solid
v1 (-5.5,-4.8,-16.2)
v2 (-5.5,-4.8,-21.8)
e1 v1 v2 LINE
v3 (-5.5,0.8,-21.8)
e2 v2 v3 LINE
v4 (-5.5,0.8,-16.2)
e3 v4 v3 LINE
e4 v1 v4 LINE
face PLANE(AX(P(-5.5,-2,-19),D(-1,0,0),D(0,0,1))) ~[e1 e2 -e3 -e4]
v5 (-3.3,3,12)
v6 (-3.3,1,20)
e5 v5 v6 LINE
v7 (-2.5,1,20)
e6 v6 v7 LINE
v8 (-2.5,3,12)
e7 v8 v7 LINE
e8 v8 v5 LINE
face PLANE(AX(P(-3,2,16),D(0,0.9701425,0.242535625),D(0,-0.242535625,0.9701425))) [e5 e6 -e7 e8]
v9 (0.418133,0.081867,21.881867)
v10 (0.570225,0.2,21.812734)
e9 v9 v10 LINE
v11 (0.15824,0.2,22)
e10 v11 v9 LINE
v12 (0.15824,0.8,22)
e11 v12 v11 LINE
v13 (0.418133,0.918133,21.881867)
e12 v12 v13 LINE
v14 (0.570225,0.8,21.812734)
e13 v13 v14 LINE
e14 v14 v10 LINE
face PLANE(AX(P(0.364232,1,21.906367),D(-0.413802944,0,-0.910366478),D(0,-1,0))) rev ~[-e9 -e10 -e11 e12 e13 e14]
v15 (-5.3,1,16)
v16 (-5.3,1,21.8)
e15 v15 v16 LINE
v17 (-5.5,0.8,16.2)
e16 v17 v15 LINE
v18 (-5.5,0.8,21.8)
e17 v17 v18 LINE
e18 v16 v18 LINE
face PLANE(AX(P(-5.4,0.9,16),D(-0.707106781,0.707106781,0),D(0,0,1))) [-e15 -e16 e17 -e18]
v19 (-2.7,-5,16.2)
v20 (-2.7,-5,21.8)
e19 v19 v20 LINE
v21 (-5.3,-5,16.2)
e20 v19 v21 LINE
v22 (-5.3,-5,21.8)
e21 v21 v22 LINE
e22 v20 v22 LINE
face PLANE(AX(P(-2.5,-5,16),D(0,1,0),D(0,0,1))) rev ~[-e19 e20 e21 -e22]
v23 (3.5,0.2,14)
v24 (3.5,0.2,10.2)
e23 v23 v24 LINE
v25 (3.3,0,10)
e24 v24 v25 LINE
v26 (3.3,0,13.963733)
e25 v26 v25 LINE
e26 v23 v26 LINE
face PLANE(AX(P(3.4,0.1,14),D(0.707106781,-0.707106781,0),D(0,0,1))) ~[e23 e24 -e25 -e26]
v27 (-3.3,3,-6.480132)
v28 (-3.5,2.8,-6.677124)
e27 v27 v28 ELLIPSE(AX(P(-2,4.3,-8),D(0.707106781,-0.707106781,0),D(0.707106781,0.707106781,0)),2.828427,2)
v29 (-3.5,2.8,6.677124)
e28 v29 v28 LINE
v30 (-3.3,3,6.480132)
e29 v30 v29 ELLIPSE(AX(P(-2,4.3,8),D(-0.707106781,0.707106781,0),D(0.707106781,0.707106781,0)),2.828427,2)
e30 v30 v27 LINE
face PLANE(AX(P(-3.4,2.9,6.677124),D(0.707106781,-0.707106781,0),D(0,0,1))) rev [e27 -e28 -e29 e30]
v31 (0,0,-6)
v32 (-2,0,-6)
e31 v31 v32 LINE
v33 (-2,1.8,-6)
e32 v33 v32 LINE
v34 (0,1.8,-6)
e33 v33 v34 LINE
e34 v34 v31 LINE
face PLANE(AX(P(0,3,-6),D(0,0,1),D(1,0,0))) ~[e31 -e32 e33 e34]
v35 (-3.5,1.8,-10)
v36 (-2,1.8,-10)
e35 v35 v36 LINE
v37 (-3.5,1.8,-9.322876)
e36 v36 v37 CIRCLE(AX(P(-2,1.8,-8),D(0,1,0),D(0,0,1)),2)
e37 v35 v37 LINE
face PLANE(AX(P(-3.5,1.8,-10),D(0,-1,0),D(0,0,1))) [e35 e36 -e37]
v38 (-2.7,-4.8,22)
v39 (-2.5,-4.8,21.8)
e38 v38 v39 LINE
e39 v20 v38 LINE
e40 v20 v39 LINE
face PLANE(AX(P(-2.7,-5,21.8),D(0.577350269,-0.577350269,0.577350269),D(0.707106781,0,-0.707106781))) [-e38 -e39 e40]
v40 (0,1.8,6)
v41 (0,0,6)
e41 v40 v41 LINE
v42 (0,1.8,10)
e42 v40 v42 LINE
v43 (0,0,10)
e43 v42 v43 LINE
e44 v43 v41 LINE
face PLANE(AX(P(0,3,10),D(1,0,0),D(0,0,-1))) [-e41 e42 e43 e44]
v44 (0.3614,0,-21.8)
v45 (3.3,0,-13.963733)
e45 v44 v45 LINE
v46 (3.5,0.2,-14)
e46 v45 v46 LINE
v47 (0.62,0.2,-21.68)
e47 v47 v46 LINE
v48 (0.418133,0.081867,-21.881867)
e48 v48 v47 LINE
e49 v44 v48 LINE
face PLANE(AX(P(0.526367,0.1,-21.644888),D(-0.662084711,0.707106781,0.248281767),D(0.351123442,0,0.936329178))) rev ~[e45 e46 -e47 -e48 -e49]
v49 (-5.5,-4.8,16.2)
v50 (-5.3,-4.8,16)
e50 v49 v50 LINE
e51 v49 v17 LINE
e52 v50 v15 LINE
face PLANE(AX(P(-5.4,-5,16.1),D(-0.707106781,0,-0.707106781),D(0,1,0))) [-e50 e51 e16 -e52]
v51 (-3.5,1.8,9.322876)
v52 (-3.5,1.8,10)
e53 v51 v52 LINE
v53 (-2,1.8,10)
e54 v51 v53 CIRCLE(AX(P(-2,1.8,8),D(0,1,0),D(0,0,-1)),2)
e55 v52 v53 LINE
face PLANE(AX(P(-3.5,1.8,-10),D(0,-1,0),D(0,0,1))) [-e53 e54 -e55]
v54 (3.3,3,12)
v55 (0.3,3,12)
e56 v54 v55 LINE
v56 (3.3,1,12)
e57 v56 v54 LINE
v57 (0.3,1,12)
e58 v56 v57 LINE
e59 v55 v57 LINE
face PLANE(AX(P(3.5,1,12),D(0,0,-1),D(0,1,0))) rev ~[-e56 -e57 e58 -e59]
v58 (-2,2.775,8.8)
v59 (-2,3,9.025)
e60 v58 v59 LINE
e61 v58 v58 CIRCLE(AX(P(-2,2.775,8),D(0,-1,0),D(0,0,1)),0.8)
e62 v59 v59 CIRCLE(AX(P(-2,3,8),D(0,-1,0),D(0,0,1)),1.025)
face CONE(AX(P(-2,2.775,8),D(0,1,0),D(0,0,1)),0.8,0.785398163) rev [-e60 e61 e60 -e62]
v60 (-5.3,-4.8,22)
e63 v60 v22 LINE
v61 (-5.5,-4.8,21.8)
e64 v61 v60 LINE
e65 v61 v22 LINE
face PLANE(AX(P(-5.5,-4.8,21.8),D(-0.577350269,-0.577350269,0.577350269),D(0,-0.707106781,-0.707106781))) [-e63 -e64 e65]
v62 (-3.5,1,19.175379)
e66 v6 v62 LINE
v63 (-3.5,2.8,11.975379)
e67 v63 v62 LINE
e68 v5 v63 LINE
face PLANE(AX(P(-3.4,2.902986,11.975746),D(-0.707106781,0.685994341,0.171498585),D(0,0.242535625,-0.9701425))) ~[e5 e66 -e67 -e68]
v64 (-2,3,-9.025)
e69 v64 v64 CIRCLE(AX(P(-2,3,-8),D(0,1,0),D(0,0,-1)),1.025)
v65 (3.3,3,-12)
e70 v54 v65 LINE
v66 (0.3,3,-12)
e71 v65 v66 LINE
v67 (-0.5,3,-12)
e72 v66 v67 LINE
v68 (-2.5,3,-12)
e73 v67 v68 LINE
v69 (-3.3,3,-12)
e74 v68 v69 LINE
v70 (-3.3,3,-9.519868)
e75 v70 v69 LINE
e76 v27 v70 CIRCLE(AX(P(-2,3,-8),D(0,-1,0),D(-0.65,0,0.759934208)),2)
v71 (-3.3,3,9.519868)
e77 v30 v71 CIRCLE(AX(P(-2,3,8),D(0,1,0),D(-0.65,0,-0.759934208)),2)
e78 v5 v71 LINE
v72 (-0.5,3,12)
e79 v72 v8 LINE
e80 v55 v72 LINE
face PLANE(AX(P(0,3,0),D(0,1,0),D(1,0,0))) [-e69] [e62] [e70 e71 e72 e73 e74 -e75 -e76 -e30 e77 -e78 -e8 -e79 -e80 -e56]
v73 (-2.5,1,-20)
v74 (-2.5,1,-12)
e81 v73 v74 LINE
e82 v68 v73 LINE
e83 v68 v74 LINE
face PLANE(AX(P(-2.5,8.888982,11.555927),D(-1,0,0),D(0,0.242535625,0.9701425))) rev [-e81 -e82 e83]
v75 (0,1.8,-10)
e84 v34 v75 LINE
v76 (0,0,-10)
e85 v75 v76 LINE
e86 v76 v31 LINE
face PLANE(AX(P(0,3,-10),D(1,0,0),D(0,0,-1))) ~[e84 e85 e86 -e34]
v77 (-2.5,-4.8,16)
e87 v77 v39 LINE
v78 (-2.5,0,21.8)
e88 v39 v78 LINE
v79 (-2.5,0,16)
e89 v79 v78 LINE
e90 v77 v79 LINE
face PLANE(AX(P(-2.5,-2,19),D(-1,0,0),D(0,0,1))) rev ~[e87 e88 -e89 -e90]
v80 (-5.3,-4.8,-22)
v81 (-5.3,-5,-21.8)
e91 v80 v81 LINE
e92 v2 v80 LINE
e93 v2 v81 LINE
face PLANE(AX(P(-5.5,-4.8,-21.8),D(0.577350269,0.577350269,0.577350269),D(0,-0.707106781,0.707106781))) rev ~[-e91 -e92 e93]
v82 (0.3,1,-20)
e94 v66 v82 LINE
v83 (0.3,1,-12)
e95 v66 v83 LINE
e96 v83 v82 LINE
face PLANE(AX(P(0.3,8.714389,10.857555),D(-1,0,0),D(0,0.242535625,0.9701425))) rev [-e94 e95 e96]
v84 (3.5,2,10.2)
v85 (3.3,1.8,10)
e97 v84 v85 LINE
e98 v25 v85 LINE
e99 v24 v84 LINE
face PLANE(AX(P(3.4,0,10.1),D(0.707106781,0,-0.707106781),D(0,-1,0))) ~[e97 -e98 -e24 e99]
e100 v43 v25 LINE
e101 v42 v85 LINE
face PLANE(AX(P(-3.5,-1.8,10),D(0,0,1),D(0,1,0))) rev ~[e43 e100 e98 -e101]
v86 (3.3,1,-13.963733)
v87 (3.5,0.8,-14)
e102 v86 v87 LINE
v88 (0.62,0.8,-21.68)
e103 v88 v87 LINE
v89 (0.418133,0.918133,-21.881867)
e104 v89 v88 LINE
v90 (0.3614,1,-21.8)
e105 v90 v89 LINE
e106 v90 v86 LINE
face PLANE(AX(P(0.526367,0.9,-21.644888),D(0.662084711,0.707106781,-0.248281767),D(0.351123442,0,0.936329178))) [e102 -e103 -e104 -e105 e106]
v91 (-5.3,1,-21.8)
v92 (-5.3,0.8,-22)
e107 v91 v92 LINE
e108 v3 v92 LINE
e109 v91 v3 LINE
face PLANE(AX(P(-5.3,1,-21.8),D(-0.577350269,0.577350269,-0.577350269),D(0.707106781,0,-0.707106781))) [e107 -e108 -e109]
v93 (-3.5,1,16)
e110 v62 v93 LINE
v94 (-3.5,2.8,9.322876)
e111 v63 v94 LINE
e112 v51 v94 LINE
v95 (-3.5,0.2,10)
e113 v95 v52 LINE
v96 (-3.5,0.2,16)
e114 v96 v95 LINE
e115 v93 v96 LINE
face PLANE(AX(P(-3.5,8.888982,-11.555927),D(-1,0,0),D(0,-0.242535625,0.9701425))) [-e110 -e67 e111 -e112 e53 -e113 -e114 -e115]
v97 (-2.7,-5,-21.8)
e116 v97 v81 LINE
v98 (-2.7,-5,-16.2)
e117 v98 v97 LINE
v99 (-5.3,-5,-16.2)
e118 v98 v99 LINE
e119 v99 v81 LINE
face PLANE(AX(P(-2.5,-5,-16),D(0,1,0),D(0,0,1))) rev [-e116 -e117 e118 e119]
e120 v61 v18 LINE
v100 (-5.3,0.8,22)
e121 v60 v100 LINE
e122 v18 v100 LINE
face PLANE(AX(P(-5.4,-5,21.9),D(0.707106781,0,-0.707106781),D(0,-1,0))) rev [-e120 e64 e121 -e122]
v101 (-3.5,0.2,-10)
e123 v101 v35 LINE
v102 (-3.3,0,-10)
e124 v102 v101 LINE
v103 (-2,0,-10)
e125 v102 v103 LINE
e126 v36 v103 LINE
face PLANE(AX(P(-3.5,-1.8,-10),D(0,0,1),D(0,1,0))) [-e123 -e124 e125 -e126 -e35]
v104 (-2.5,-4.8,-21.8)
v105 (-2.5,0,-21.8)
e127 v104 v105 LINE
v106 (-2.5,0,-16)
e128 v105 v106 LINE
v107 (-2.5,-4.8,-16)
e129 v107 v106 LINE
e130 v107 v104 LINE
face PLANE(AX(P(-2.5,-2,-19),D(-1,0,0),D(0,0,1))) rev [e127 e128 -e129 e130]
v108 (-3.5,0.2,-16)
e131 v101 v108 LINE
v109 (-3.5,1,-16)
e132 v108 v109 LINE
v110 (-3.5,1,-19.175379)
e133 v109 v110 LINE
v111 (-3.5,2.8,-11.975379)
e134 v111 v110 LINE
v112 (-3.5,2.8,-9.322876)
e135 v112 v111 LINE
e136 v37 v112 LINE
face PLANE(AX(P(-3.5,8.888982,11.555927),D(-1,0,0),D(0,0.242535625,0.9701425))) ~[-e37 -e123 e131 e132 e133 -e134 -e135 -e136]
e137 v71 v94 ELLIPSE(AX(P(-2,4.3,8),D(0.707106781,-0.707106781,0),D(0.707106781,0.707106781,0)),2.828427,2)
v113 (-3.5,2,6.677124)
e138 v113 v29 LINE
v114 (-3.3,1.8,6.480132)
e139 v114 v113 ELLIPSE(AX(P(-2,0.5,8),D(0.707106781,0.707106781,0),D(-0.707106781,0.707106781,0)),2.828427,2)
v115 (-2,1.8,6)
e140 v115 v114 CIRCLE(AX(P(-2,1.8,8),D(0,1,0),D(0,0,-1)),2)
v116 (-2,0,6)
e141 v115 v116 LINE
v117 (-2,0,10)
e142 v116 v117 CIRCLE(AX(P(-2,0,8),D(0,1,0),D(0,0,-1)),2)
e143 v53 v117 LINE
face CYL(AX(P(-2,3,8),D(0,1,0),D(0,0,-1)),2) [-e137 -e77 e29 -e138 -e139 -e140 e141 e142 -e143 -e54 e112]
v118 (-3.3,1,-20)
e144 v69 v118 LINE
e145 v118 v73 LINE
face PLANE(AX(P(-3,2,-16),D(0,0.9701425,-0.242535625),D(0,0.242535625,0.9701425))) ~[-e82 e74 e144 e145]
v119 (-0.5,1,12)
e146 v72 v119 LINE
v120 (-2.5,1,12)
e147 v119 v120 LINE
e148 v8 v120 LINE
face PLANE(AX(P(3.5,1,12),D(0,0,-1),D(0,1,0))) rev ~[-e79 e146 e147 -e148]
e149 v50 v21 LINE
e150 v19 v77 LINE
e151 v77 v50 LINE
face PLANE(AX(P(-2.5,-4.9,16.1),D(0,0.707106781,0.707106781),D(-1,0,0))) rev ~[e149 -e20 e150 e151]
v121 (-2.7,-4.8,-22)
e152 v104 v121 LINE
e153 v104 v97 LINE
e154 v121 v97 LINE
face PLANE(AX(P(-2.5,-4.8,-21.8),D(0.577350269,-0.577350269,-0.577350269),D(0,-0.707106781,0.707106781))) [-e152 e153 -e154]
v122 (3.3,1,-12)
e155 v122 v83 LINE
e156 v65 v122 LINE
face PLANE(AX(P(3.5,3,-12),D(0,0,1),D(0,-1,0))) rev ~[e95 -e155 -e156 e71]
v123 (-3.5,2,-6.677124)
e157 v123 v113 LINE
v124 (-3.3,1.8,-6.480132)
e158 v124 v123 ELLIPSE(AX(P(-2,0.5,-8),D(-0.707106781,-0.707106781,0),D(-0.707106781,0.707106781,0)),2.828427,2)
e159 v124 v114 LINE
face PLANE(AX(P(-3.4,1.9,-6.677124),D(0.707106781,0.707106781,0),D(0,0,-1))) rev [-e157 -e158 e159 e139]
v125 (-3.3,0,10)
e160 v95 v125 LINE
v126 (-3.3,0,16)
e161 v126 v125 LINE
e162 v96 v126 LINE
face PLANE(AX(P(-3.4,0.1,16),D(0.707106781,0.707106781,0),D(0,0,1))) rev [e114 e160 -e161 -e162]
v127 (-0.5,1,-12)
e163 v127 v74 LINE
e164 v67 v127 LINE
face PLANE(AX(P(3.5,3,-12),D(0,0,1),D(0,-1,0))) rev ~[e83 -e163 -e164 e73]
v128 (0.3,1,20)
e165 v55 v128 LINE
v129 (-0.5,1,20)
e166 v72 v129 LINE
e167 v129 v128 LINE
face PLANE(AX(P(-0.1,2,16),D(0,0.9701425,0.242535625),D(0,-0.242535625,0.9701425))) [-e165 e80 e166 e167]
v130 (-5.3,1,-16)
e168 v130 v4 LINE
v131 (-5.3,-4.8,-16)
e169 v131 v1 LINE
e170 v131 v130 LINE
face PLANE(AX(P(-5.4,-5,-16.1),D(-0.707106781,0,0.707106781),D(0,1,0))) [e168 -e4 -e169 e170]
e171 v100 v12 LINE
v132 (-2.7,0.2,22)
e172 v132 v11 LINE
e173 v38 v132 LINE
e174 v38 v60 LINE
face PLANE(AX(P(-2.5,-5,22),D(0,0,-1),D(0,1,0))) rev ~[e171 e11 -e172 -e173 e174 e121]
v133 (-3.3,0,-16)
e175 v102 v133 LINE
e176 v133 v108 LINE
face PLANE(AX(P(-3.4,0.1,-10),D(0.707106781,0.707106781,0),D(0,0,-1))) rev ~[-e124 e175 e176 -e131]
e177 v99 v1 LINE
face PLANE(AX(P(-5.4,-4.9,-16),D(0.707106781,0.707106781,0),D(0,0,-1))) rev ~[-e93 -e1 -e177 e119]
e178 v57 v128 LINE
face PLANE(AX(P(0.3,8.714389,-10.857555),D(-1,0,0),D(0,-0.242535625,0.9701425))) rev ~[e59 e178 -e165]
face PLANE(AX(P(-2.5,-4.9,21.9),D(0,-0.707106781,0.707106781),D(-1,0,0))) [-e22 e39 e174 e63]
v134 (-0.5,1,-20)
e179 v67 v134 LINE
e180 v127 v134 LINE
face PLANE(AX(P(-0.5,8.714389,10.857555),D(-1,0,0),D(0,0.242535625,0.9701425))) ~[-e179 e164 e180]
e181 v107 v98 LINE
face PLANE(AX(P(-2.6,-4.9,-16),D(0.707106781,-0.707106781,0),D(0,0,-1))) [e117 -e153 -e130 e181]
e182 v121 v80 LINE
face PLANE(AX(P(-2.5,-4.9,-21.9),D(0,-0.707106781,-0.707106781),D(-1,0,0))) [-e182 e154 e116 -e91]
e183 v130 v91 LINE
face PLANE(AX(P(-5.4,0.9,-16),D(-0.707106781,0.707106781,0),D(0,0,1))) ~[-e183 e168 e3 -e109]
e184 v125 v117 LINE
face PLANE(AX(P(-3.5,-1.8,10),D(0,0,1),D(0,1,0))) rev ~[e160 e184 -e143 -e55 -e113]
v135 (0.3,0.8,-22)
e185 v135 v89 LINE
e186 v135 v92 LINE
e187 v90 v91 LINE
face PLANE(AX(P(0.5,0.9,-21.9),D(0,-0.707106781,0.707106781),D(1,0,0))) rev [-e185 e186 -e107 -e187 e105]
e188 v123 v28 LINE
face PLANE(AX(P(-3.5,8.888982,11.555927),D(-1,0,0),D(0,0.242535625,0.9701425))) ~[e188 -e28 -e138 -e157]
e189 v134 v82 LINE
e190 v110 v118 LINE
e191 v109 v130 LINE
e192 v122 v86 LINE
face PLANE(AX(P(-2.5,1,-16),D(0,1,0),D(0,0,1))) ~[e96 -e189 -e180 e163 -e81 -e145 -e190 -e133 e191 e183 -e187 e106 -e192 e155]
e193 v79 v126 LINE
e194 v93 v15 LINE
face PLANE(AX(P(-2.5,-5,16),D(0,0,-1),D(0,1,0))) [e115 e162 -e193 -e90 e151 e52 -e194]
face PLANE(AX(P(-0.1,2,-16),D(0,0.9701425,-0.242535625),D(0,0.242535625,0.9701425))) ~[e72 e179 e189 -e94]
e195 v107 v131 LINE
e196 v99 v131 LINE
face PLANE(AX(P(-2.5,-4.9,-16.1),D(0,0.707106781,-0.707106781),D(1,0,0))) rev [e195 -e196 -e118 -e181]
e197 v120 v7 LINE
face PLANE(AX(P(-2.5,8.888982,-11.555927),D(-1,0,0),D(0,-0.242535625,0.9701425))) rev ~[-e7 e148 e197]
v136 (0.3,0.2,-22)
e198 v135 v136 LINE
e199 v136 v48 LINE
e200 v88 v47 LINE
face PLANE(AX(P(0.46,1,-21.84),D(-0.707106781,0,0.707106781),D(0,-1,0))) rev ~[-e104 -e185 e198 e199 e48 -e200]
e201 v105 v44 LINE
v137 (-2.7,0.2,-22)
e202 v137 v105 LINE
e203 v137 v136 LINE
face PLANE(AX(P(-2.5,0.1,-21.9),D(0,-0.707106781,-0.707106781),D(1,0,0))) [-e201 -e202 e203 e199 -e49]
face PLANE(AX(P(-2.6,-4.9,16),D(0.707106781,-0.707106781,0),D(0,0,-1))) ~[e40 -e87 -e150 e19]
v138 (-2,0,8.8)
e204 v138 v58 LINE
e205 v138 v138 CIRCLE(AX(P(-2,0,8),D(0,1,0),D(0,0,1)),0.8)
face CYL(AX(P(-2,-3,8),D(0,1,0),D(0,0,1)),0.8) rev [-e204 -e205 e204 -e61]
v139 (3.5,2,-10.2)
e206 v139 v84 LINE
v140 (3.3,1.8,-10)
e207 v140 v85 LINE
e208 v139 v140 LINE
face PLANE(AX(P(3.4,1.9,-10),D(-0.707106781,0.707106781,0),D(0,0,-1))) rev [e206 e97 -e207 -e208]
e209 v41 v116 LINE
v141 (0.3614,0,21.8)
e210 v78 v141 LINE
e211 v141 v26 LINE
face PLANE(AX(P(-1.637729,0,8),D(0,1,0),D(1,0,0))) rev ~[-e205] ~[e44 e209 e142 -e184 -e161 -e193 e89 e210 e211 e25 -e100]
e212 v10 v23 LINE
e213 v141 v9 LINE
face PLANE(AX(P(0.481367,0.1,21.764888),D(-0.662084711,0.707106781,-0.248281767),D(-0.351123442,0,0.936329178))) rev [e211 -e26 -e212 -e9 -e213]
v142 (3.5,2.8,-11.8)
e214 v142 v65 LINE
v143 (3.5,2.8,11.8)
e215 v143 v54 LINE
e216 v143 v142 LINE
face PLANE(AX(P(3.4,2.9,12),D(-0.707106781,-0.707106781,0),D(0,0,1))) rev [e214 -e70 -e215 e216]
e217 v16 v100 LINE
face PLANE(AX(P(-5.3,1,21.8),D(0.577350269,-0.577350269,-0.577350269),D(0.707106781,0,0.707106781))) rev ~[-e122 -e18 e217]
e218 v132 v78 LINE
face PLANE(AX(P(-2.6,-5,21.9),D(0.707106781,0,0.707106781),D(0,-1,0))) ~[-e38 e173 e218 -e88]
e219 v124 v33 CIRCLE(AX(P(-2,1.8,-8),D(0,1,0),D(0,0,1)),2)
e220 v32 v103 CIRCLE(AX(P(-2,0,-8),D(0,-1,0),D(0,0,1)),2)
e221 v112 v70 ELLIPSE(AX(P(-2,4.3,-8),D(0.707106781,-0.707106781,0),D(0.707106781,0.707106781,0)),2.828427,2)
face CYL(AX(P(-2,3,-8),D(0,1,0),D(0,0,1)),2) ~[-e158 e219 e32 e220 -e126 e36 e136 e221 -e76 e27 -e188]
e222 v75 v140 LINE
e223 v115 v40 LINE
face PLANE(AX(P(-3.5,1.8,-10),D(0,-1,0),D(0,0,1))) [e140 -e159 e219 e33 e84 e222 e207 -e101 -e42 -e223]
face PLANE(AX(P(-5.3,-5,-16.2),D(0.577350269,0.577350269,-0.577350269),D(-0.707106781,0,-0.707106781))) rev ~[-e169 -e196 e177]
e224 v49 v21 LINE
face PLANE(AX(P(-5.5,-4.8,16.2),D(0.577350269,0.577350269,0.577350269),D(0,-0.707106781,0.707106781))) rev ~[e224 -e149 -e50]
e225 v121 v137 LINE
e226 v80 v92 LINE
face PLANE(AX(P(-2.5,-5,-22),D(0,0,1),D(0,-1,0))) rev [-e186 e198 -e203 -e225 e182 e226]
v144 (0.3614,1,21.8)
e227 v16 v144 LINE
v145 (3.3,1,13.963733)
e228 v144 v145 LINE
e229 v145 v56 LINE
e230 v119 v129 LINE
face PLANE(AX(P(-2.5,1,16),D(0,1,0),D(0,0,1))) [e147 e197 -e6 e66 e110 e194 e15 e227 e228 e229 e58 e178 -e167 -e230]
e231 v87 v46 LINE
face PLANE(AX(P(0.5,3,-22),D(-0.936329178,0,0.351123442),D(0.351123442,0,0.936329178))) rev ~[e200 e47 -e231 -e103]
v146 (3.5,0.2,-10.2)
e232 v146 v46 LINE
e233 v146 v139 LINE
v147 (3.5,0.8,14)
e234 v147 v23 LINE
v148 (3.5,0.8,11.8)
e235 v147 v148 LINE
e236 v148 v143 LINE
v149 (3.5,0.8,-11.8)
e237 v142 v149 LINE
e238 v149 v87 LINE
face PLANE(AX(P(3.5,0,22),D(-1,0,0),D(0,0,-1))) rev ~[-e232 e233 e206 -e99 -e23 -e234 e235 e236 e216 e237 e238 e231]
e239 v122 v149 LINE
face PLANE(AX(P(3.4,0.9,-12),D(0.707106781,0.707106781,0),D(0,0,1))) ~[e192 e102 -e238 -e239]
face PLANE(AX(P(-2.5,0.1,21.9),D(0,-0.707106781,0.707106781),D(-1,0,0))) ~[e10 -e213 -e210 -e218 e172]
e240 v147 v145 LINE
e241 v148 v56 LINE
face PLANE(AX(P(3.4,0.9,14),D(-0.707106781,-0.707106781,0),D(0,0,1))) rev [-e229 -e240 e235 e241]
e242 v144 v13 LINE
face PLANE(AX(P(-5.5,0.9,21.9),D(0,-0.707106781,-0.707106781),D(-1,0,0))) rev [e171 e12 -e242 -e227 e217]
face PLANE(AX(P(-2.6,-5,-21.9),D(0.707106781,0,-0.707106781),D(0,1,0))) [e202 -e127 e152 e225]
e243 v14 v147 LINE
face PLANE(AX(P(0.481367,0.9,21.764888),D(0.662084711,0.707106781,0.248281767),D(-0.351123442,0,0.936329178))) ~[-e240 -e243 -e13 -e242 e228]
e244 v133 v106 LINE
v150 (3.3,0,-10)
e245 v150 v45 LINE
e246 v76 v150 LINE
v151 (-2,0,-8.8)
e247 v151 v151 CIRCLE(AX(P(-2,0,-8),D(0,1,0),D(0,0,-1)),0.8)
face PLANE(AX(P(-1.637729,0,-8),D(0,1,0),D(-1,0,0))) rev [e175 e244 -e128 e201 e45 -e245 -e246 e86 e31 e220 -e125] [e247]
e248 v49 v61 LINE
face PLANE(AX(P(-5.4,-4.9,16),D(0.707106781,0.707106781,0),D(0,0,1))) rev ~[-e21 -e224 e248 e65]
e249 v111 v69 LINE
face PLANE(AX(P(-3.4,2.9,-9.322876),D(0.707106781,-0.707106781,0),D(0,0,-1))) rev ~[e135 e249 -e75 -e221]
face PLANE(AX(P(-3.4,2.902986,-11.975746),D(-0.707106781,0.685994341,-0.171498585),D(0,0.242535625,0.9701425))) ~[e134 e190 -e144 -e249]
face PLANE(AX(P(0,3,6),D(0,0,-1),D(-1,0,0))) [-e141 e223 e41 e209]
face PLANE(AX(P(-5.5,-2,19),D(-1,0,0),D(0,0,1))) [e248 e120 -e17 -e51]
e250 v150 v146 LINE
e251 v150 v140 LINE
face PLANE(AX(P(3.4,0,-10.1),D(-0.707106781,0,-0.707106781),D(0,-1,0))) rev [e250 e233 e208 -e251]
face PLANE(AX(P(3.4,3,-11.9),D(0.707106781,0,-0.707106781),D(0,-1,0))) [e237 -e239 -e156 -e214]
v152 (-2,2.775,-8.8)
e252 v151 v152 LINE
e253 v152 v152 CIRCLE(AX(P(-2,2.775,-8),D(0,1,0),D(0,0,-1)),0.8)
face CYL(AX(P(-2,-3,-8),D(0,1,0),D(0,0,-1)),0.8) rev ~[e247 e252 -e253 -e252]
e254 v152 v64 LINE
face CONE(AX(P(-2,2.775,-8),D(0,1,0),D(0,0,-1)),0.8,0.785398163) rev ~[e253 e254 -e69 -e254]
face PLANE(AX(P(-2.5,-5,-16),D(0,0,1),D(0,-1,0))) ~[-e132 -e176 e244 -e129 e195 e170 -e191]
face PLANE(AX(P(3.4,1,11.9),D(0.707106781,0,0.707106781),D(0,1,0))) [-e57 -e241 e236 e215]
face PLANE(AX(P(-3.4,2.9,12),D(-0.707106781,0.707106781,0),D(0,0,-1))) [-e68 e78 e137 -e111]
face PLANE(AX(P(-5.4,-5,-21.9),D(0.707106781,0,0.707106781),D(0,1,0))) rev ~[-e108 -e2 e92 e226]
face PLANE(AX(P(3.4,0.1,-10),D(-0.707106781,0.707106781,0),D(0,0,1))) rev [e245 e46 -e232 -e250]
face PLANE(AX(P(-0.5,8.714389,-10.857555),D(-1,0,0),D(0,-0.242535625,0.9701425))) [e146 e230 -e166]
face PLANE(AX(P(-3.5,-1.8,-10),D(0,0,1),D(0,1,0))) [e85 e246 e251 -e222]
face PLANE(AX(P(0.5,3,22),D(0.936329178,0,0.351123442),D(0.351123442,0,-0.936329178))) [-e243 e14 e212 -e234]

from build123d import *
from OCP.BRepFilletAPI import BRepFilletAPI_MakeChamfer

# Parameters (mm, degrees)
SKETCH_1_W          = 7
SKETCH_1_H          = 44
EXTRUDE_1_DEPTH     = 3
CUT_EXTRUDE_1_DEPTH = 23.477766793
CUT_EXTRUDE_2_DEPTH = 24.280893454
RIB_4_REACH         = 25.281
SKETCH_4_WALL_W     = 56.807998158
SKETCH_4_WALL_H     = 1
RIB_5_REACH         = 24.561
SKETCH_5_WALL_W     = 55.368267942
SKETCH_5_WALL_H     = 0.8
SKETCH_10_W         = 20
SKETCH_10_H         = 3.6
CUT_EXTRUDE_3_DEPTH = 24.280893454
EXTRUDE_2_DEPTH     = 3
EXTRUDE_START       = -1
SKETCH_9_W          = 6
SKETCH_9_H          = 6
EXTRUDE_3_DEPTH     = 3
CHAMFER_1_SIZE      = 0.2
CHAMFER_1_SIZE2     = 0.34176015
CHAMFER_2_SIZE      = 0.2
CHAMFER_3_SIZE      = 0.2


with BuildPart() as part:
    # 草图1 → 凸台-拉伸1 (new body)
    with BuildSketch(Plane(origin=(0, 0, 0), x_dir=(1, 0, 0), z_dir=(0, 1, 0))):
        Rectangle(SKETCH_1_W, SKETCH_1_H)
    extrude(amount=EXTRUDE_1_DEPTH)

    # 草图2 → 切除-拉伸1 (cut, through all)
    with BuildSketch(Plane(origin=(0, 3, 0), x_dir=(1, 0, 0), z_dir=(0, 1, 0))):
        Polygon((3.5, 22), (0.5, 22), (3.5, 14), align=None)
        Polygon((3.5, -22), (0.5, -22), (3.5, -14), align=None)
    extrude(amount=-CUT_EXTRUDE_1_DEPTH, mode=Mode.SUBTRACT)

    # 草图3 → 切除-拉伸2 (cut, through all)
    with BuildSketch(Plane(origin=(3.5, 0, 0), x_dir=(0, 0, -1), z_dir=(1, 0, 0))):
        Polygon((-14, 2.6), (-14, 3), (-22, 3), (-22, 1), align=None)
        Polygon((-14, 1), (-14, 2.6), (-22, 1), align=None)
        Polygon((-12, 1), (-12, 3), (-14, 2.6), (-14, 1), align=None)
        Polygon((-14, 2.6), (-12, 3), (-14, 3), align=None)
        Polygon((14, 2.6), (12, 3), (12, 1), (14, 1), align=None)
        Polygon((22, 1), (14, 2.6), (14, 1), align=None)
        Polygon((22, 3), (14, 3), (14, 2.6), (22, 1), align=None)
        Polygon((14, 3), (12, 3), (14, 2.6), align=None)
    extrude(amount=-CUT_EXTRUDE_2_DEPTH, mode=Mode.SUBTRACT)

    # 草图4 wall → 筋4 (add, up to next)
    with BuildSketch(Plane(origin=(-3.5, 2, 16), x_dir=(0, -0.242535625036, 0.970142500145), z_dir=(0, 0.970142500145, 0.242535625036)), mode=Mode.PRIVATE) as rib_4_sk1:
        with Locations((0, 0.5)):
            Rectangle(SKETCH_4_WALL_W, SKETCH_4_WALL_H)
    rib_4_tool1 = extrude(rib_4_sk1.sketch, amount=-RIB_4_REACH, mode=Mode.PRIVATE) - part.part
    rib_4 = rib_4_tool1.solids().sort_by_distance((-3.5, 2, 16))[0]
    add(rib_4)

    # 草图5 wall → 筋5 (add, up to next)
    with BuildSketch(Plane(origin=(-0.5, 2, 16), x_dir=(0, -0.242535625036, 0.970142500145), z_dir=(0, 0.970142500145, 0.242535625036)), mode=Mode.PRIVATE) as rib_5_sk1:
        with Locations((0, 0.4)):
            Rectangle(SKETCH_5_WALL_W, SKETCH_5_WALL_H)
    rib_5_tool1 = extrude(rib_5_sk1.sketch, amount=-RIB_5_REACH, mode=Mode.PRIVATE) - part.part
    rib_5 = rib_5_tool1.solids().sort_by_distance((-0.5, 2, 16))[0]
    add(rib_5)

    # 草图10 → 切除-拉伸3 (cut, through all)
    with BuildSketch(Plane.ZY.offset(3.5)):
        Rectangle(SKETCH_10_W, SKETCH_10_H)
    extrude(amount=-CUT_EXTRUDE_3_DEPTH, mode=Mode.SUBTRACT)

    # 草图6 → 凸台-拉伸2 (add)
    with BuildSketch(Plane(origin=(0, 3, 0), x_dir=(1, 0, 0), z_dir=(0, 1, 0))):
        with BuildLine():
            Line((0, -6), (-2, -6))
            ThreePointArc((-2, -6), (-4, -8), (-2, -10))
            Line((-2, -10), (0, -10))
            Line((0, -10), (0, -6))
        make_face()
    extrude_2 = extrude(amount=-EXTRUDE_2_DEPTH)

    # 草图8 → M2 螺纹孔1 (revolve, cut)
    with BuildSketch(Plane(origin=(-2, 3, 8), x_dir=(0, 0, 1), z_dir=(1, 0, 0))):
        Polygon((0, 0), (0, 6.480688495), (0.8, 6), (0.8, 0.225), (1.025, 0), align=None)
    hole_wizard_m2_1 = revolve(axis=Axis((-2, 9.35, 8), (0, -1, 0)), mode=Mode.SUBTRACT)

    # 草图9 → 凸台-拉伸3 (add)
    with BuildSketch(Plane.ZY.offset(3.5).offset(EXTRUDE_START)):
        with Locations((19, -2)):
            Rectangle(SKETCH_9_W, SKETCH_9_H)
    extrude_3 = extrude(amount=EXTRUDE_3_DEPTH)

    # 镜向1: 筋4, 筋5, 凸台-拉伸2, M2 螺纹孔1, 凸台-拉伸3 across plane
    add(rib_4.mirror(Plane.XY))
    add(rib_5.mirror(Plane.XY))
    add(extrude_2.mirror(Plane.XY))
    add(hole_wizard_m2_1.mirror(Plane.XY), mode=Mode.SUBTRACT)
    add(extrude_3.mirror(Plane.XY))

    # 倒角1: one chamfer whose edges measure the first distance from different faces: ONE call of the kernel's chamfer builder (chamfer() names one face for all edges)
    chamfer_1_edges_1 = [part.edges().sort_by_distance(p)[0] for p in [
        (0.5, 0.5, -22),
    ]]
    chamfer_1_side_1 = [part.faces().sort_by_distance(p)[0] for p in [
        (-3.571428571, -1.642857143, -22),
    ]]
    chamfer_1_edges_2 = [part.edges().sort_by_distance(p)[0] for p in [
        (-1, 0, 22),
        (-2.5, -2.5, 22),
        (-4, -5, 22),
        (-2.5, -5, 19),
        (-4, -5, 16),
        (-5.5, -2, 22),
        (-5.5, 1, 19),
        (-5.5, -2, 16),
        (-5.5, -5, 19),
        (-1, 0, -22),
        (-4, -5, -22),
        (-5.5, -2, -22),
        (-5.5, -2, -16),
        (-5.5, 1, -19),
        (-4, -5, -16),
        (-5.5, -5, -19),
        (-2.5, -2.5, -22),
        (-2.5, -5, -19),
        (-2.5, 1, 22),
        (-2.5, 1, -22),
    ]]
    chamfer_1_edges_3 = [part.edges().sort_by_distance(p)[0] for p in [
        (0.5, 0.5, 22),
    ]]
    chamfer_1_side_3 = [part.faces().sort_by_distance(p)[0] for p in [
        (2, 0.5, 18),
    ]]
    chamfer_1 = BRepFilletAPI_MakeChamfer(part.part.solid().wrapped)
    for e in chamfer_1_edges_1:
        chamfer_1.Add(CHAMFER_1_SIZE, CHAMFER_1_SIZE2, e.wrapped, chamfer_1_side_1[0].wrapped)  # the first distance lies on this face
    for e in chamfer_1_edges_2:
        chamfer_1.Add(CHAMFER_1_SIZE, e.wrapped)
    for e in chamfer_1_edges_3:
        chamfer_1.Add(CHAMFER_1_SIZE, CHAMFER_1_SIZE2, e.wrapped, chamfer_1_side_3[0].wrapped)  # the first distance lies on this face
    add(Compound.cast(chamfer_1.Shape()), mode=Mode.REPLACE)

    # 倒角2
    chamfer_2_edges = [part.edges().sort_by_distance(p)[0] for p in [
        (2.06, 0, -17.84),
        (2.06, 1, -17.84),
        (3.5, 0, -12),
        (3.5, 0.9, -10),
        (3.5, 1.8, 0),
        (3.5, 0.9, 10),
        (3.5, 0, 12),
        (2.0375, 0, 17.9),
        (3.5, 1, -13),
        (3.5, 2, -12),
        (3.5, 3, 0),
        (3.5, 2, 12),
        (3.5, 1, 13),
        (2.0375, 1, 17.9),
    ]]
    chamfer(chamfer_2_edges, length=CHAMFER_2_SIZE)

    # 倒角3
    chamfer_3_edges = [part.edges().sort_by_distance(p)[0] for p in [
        (-3.5, 0, 13),
        (-3.5, 1.8, 0),
        (-3.5, 3, 10.661437828),
        (-3.5, 2, -16),
        (-3.5, 3, 0),
        (-3.5, 0, -13),
        (-3.5, 3, -10.661437828),
        (-3.5, 2, 16),
    ]]
    chamfer(chamfer_3_edges, length=CHAMFER_3_SIZE)


solid = part.part
